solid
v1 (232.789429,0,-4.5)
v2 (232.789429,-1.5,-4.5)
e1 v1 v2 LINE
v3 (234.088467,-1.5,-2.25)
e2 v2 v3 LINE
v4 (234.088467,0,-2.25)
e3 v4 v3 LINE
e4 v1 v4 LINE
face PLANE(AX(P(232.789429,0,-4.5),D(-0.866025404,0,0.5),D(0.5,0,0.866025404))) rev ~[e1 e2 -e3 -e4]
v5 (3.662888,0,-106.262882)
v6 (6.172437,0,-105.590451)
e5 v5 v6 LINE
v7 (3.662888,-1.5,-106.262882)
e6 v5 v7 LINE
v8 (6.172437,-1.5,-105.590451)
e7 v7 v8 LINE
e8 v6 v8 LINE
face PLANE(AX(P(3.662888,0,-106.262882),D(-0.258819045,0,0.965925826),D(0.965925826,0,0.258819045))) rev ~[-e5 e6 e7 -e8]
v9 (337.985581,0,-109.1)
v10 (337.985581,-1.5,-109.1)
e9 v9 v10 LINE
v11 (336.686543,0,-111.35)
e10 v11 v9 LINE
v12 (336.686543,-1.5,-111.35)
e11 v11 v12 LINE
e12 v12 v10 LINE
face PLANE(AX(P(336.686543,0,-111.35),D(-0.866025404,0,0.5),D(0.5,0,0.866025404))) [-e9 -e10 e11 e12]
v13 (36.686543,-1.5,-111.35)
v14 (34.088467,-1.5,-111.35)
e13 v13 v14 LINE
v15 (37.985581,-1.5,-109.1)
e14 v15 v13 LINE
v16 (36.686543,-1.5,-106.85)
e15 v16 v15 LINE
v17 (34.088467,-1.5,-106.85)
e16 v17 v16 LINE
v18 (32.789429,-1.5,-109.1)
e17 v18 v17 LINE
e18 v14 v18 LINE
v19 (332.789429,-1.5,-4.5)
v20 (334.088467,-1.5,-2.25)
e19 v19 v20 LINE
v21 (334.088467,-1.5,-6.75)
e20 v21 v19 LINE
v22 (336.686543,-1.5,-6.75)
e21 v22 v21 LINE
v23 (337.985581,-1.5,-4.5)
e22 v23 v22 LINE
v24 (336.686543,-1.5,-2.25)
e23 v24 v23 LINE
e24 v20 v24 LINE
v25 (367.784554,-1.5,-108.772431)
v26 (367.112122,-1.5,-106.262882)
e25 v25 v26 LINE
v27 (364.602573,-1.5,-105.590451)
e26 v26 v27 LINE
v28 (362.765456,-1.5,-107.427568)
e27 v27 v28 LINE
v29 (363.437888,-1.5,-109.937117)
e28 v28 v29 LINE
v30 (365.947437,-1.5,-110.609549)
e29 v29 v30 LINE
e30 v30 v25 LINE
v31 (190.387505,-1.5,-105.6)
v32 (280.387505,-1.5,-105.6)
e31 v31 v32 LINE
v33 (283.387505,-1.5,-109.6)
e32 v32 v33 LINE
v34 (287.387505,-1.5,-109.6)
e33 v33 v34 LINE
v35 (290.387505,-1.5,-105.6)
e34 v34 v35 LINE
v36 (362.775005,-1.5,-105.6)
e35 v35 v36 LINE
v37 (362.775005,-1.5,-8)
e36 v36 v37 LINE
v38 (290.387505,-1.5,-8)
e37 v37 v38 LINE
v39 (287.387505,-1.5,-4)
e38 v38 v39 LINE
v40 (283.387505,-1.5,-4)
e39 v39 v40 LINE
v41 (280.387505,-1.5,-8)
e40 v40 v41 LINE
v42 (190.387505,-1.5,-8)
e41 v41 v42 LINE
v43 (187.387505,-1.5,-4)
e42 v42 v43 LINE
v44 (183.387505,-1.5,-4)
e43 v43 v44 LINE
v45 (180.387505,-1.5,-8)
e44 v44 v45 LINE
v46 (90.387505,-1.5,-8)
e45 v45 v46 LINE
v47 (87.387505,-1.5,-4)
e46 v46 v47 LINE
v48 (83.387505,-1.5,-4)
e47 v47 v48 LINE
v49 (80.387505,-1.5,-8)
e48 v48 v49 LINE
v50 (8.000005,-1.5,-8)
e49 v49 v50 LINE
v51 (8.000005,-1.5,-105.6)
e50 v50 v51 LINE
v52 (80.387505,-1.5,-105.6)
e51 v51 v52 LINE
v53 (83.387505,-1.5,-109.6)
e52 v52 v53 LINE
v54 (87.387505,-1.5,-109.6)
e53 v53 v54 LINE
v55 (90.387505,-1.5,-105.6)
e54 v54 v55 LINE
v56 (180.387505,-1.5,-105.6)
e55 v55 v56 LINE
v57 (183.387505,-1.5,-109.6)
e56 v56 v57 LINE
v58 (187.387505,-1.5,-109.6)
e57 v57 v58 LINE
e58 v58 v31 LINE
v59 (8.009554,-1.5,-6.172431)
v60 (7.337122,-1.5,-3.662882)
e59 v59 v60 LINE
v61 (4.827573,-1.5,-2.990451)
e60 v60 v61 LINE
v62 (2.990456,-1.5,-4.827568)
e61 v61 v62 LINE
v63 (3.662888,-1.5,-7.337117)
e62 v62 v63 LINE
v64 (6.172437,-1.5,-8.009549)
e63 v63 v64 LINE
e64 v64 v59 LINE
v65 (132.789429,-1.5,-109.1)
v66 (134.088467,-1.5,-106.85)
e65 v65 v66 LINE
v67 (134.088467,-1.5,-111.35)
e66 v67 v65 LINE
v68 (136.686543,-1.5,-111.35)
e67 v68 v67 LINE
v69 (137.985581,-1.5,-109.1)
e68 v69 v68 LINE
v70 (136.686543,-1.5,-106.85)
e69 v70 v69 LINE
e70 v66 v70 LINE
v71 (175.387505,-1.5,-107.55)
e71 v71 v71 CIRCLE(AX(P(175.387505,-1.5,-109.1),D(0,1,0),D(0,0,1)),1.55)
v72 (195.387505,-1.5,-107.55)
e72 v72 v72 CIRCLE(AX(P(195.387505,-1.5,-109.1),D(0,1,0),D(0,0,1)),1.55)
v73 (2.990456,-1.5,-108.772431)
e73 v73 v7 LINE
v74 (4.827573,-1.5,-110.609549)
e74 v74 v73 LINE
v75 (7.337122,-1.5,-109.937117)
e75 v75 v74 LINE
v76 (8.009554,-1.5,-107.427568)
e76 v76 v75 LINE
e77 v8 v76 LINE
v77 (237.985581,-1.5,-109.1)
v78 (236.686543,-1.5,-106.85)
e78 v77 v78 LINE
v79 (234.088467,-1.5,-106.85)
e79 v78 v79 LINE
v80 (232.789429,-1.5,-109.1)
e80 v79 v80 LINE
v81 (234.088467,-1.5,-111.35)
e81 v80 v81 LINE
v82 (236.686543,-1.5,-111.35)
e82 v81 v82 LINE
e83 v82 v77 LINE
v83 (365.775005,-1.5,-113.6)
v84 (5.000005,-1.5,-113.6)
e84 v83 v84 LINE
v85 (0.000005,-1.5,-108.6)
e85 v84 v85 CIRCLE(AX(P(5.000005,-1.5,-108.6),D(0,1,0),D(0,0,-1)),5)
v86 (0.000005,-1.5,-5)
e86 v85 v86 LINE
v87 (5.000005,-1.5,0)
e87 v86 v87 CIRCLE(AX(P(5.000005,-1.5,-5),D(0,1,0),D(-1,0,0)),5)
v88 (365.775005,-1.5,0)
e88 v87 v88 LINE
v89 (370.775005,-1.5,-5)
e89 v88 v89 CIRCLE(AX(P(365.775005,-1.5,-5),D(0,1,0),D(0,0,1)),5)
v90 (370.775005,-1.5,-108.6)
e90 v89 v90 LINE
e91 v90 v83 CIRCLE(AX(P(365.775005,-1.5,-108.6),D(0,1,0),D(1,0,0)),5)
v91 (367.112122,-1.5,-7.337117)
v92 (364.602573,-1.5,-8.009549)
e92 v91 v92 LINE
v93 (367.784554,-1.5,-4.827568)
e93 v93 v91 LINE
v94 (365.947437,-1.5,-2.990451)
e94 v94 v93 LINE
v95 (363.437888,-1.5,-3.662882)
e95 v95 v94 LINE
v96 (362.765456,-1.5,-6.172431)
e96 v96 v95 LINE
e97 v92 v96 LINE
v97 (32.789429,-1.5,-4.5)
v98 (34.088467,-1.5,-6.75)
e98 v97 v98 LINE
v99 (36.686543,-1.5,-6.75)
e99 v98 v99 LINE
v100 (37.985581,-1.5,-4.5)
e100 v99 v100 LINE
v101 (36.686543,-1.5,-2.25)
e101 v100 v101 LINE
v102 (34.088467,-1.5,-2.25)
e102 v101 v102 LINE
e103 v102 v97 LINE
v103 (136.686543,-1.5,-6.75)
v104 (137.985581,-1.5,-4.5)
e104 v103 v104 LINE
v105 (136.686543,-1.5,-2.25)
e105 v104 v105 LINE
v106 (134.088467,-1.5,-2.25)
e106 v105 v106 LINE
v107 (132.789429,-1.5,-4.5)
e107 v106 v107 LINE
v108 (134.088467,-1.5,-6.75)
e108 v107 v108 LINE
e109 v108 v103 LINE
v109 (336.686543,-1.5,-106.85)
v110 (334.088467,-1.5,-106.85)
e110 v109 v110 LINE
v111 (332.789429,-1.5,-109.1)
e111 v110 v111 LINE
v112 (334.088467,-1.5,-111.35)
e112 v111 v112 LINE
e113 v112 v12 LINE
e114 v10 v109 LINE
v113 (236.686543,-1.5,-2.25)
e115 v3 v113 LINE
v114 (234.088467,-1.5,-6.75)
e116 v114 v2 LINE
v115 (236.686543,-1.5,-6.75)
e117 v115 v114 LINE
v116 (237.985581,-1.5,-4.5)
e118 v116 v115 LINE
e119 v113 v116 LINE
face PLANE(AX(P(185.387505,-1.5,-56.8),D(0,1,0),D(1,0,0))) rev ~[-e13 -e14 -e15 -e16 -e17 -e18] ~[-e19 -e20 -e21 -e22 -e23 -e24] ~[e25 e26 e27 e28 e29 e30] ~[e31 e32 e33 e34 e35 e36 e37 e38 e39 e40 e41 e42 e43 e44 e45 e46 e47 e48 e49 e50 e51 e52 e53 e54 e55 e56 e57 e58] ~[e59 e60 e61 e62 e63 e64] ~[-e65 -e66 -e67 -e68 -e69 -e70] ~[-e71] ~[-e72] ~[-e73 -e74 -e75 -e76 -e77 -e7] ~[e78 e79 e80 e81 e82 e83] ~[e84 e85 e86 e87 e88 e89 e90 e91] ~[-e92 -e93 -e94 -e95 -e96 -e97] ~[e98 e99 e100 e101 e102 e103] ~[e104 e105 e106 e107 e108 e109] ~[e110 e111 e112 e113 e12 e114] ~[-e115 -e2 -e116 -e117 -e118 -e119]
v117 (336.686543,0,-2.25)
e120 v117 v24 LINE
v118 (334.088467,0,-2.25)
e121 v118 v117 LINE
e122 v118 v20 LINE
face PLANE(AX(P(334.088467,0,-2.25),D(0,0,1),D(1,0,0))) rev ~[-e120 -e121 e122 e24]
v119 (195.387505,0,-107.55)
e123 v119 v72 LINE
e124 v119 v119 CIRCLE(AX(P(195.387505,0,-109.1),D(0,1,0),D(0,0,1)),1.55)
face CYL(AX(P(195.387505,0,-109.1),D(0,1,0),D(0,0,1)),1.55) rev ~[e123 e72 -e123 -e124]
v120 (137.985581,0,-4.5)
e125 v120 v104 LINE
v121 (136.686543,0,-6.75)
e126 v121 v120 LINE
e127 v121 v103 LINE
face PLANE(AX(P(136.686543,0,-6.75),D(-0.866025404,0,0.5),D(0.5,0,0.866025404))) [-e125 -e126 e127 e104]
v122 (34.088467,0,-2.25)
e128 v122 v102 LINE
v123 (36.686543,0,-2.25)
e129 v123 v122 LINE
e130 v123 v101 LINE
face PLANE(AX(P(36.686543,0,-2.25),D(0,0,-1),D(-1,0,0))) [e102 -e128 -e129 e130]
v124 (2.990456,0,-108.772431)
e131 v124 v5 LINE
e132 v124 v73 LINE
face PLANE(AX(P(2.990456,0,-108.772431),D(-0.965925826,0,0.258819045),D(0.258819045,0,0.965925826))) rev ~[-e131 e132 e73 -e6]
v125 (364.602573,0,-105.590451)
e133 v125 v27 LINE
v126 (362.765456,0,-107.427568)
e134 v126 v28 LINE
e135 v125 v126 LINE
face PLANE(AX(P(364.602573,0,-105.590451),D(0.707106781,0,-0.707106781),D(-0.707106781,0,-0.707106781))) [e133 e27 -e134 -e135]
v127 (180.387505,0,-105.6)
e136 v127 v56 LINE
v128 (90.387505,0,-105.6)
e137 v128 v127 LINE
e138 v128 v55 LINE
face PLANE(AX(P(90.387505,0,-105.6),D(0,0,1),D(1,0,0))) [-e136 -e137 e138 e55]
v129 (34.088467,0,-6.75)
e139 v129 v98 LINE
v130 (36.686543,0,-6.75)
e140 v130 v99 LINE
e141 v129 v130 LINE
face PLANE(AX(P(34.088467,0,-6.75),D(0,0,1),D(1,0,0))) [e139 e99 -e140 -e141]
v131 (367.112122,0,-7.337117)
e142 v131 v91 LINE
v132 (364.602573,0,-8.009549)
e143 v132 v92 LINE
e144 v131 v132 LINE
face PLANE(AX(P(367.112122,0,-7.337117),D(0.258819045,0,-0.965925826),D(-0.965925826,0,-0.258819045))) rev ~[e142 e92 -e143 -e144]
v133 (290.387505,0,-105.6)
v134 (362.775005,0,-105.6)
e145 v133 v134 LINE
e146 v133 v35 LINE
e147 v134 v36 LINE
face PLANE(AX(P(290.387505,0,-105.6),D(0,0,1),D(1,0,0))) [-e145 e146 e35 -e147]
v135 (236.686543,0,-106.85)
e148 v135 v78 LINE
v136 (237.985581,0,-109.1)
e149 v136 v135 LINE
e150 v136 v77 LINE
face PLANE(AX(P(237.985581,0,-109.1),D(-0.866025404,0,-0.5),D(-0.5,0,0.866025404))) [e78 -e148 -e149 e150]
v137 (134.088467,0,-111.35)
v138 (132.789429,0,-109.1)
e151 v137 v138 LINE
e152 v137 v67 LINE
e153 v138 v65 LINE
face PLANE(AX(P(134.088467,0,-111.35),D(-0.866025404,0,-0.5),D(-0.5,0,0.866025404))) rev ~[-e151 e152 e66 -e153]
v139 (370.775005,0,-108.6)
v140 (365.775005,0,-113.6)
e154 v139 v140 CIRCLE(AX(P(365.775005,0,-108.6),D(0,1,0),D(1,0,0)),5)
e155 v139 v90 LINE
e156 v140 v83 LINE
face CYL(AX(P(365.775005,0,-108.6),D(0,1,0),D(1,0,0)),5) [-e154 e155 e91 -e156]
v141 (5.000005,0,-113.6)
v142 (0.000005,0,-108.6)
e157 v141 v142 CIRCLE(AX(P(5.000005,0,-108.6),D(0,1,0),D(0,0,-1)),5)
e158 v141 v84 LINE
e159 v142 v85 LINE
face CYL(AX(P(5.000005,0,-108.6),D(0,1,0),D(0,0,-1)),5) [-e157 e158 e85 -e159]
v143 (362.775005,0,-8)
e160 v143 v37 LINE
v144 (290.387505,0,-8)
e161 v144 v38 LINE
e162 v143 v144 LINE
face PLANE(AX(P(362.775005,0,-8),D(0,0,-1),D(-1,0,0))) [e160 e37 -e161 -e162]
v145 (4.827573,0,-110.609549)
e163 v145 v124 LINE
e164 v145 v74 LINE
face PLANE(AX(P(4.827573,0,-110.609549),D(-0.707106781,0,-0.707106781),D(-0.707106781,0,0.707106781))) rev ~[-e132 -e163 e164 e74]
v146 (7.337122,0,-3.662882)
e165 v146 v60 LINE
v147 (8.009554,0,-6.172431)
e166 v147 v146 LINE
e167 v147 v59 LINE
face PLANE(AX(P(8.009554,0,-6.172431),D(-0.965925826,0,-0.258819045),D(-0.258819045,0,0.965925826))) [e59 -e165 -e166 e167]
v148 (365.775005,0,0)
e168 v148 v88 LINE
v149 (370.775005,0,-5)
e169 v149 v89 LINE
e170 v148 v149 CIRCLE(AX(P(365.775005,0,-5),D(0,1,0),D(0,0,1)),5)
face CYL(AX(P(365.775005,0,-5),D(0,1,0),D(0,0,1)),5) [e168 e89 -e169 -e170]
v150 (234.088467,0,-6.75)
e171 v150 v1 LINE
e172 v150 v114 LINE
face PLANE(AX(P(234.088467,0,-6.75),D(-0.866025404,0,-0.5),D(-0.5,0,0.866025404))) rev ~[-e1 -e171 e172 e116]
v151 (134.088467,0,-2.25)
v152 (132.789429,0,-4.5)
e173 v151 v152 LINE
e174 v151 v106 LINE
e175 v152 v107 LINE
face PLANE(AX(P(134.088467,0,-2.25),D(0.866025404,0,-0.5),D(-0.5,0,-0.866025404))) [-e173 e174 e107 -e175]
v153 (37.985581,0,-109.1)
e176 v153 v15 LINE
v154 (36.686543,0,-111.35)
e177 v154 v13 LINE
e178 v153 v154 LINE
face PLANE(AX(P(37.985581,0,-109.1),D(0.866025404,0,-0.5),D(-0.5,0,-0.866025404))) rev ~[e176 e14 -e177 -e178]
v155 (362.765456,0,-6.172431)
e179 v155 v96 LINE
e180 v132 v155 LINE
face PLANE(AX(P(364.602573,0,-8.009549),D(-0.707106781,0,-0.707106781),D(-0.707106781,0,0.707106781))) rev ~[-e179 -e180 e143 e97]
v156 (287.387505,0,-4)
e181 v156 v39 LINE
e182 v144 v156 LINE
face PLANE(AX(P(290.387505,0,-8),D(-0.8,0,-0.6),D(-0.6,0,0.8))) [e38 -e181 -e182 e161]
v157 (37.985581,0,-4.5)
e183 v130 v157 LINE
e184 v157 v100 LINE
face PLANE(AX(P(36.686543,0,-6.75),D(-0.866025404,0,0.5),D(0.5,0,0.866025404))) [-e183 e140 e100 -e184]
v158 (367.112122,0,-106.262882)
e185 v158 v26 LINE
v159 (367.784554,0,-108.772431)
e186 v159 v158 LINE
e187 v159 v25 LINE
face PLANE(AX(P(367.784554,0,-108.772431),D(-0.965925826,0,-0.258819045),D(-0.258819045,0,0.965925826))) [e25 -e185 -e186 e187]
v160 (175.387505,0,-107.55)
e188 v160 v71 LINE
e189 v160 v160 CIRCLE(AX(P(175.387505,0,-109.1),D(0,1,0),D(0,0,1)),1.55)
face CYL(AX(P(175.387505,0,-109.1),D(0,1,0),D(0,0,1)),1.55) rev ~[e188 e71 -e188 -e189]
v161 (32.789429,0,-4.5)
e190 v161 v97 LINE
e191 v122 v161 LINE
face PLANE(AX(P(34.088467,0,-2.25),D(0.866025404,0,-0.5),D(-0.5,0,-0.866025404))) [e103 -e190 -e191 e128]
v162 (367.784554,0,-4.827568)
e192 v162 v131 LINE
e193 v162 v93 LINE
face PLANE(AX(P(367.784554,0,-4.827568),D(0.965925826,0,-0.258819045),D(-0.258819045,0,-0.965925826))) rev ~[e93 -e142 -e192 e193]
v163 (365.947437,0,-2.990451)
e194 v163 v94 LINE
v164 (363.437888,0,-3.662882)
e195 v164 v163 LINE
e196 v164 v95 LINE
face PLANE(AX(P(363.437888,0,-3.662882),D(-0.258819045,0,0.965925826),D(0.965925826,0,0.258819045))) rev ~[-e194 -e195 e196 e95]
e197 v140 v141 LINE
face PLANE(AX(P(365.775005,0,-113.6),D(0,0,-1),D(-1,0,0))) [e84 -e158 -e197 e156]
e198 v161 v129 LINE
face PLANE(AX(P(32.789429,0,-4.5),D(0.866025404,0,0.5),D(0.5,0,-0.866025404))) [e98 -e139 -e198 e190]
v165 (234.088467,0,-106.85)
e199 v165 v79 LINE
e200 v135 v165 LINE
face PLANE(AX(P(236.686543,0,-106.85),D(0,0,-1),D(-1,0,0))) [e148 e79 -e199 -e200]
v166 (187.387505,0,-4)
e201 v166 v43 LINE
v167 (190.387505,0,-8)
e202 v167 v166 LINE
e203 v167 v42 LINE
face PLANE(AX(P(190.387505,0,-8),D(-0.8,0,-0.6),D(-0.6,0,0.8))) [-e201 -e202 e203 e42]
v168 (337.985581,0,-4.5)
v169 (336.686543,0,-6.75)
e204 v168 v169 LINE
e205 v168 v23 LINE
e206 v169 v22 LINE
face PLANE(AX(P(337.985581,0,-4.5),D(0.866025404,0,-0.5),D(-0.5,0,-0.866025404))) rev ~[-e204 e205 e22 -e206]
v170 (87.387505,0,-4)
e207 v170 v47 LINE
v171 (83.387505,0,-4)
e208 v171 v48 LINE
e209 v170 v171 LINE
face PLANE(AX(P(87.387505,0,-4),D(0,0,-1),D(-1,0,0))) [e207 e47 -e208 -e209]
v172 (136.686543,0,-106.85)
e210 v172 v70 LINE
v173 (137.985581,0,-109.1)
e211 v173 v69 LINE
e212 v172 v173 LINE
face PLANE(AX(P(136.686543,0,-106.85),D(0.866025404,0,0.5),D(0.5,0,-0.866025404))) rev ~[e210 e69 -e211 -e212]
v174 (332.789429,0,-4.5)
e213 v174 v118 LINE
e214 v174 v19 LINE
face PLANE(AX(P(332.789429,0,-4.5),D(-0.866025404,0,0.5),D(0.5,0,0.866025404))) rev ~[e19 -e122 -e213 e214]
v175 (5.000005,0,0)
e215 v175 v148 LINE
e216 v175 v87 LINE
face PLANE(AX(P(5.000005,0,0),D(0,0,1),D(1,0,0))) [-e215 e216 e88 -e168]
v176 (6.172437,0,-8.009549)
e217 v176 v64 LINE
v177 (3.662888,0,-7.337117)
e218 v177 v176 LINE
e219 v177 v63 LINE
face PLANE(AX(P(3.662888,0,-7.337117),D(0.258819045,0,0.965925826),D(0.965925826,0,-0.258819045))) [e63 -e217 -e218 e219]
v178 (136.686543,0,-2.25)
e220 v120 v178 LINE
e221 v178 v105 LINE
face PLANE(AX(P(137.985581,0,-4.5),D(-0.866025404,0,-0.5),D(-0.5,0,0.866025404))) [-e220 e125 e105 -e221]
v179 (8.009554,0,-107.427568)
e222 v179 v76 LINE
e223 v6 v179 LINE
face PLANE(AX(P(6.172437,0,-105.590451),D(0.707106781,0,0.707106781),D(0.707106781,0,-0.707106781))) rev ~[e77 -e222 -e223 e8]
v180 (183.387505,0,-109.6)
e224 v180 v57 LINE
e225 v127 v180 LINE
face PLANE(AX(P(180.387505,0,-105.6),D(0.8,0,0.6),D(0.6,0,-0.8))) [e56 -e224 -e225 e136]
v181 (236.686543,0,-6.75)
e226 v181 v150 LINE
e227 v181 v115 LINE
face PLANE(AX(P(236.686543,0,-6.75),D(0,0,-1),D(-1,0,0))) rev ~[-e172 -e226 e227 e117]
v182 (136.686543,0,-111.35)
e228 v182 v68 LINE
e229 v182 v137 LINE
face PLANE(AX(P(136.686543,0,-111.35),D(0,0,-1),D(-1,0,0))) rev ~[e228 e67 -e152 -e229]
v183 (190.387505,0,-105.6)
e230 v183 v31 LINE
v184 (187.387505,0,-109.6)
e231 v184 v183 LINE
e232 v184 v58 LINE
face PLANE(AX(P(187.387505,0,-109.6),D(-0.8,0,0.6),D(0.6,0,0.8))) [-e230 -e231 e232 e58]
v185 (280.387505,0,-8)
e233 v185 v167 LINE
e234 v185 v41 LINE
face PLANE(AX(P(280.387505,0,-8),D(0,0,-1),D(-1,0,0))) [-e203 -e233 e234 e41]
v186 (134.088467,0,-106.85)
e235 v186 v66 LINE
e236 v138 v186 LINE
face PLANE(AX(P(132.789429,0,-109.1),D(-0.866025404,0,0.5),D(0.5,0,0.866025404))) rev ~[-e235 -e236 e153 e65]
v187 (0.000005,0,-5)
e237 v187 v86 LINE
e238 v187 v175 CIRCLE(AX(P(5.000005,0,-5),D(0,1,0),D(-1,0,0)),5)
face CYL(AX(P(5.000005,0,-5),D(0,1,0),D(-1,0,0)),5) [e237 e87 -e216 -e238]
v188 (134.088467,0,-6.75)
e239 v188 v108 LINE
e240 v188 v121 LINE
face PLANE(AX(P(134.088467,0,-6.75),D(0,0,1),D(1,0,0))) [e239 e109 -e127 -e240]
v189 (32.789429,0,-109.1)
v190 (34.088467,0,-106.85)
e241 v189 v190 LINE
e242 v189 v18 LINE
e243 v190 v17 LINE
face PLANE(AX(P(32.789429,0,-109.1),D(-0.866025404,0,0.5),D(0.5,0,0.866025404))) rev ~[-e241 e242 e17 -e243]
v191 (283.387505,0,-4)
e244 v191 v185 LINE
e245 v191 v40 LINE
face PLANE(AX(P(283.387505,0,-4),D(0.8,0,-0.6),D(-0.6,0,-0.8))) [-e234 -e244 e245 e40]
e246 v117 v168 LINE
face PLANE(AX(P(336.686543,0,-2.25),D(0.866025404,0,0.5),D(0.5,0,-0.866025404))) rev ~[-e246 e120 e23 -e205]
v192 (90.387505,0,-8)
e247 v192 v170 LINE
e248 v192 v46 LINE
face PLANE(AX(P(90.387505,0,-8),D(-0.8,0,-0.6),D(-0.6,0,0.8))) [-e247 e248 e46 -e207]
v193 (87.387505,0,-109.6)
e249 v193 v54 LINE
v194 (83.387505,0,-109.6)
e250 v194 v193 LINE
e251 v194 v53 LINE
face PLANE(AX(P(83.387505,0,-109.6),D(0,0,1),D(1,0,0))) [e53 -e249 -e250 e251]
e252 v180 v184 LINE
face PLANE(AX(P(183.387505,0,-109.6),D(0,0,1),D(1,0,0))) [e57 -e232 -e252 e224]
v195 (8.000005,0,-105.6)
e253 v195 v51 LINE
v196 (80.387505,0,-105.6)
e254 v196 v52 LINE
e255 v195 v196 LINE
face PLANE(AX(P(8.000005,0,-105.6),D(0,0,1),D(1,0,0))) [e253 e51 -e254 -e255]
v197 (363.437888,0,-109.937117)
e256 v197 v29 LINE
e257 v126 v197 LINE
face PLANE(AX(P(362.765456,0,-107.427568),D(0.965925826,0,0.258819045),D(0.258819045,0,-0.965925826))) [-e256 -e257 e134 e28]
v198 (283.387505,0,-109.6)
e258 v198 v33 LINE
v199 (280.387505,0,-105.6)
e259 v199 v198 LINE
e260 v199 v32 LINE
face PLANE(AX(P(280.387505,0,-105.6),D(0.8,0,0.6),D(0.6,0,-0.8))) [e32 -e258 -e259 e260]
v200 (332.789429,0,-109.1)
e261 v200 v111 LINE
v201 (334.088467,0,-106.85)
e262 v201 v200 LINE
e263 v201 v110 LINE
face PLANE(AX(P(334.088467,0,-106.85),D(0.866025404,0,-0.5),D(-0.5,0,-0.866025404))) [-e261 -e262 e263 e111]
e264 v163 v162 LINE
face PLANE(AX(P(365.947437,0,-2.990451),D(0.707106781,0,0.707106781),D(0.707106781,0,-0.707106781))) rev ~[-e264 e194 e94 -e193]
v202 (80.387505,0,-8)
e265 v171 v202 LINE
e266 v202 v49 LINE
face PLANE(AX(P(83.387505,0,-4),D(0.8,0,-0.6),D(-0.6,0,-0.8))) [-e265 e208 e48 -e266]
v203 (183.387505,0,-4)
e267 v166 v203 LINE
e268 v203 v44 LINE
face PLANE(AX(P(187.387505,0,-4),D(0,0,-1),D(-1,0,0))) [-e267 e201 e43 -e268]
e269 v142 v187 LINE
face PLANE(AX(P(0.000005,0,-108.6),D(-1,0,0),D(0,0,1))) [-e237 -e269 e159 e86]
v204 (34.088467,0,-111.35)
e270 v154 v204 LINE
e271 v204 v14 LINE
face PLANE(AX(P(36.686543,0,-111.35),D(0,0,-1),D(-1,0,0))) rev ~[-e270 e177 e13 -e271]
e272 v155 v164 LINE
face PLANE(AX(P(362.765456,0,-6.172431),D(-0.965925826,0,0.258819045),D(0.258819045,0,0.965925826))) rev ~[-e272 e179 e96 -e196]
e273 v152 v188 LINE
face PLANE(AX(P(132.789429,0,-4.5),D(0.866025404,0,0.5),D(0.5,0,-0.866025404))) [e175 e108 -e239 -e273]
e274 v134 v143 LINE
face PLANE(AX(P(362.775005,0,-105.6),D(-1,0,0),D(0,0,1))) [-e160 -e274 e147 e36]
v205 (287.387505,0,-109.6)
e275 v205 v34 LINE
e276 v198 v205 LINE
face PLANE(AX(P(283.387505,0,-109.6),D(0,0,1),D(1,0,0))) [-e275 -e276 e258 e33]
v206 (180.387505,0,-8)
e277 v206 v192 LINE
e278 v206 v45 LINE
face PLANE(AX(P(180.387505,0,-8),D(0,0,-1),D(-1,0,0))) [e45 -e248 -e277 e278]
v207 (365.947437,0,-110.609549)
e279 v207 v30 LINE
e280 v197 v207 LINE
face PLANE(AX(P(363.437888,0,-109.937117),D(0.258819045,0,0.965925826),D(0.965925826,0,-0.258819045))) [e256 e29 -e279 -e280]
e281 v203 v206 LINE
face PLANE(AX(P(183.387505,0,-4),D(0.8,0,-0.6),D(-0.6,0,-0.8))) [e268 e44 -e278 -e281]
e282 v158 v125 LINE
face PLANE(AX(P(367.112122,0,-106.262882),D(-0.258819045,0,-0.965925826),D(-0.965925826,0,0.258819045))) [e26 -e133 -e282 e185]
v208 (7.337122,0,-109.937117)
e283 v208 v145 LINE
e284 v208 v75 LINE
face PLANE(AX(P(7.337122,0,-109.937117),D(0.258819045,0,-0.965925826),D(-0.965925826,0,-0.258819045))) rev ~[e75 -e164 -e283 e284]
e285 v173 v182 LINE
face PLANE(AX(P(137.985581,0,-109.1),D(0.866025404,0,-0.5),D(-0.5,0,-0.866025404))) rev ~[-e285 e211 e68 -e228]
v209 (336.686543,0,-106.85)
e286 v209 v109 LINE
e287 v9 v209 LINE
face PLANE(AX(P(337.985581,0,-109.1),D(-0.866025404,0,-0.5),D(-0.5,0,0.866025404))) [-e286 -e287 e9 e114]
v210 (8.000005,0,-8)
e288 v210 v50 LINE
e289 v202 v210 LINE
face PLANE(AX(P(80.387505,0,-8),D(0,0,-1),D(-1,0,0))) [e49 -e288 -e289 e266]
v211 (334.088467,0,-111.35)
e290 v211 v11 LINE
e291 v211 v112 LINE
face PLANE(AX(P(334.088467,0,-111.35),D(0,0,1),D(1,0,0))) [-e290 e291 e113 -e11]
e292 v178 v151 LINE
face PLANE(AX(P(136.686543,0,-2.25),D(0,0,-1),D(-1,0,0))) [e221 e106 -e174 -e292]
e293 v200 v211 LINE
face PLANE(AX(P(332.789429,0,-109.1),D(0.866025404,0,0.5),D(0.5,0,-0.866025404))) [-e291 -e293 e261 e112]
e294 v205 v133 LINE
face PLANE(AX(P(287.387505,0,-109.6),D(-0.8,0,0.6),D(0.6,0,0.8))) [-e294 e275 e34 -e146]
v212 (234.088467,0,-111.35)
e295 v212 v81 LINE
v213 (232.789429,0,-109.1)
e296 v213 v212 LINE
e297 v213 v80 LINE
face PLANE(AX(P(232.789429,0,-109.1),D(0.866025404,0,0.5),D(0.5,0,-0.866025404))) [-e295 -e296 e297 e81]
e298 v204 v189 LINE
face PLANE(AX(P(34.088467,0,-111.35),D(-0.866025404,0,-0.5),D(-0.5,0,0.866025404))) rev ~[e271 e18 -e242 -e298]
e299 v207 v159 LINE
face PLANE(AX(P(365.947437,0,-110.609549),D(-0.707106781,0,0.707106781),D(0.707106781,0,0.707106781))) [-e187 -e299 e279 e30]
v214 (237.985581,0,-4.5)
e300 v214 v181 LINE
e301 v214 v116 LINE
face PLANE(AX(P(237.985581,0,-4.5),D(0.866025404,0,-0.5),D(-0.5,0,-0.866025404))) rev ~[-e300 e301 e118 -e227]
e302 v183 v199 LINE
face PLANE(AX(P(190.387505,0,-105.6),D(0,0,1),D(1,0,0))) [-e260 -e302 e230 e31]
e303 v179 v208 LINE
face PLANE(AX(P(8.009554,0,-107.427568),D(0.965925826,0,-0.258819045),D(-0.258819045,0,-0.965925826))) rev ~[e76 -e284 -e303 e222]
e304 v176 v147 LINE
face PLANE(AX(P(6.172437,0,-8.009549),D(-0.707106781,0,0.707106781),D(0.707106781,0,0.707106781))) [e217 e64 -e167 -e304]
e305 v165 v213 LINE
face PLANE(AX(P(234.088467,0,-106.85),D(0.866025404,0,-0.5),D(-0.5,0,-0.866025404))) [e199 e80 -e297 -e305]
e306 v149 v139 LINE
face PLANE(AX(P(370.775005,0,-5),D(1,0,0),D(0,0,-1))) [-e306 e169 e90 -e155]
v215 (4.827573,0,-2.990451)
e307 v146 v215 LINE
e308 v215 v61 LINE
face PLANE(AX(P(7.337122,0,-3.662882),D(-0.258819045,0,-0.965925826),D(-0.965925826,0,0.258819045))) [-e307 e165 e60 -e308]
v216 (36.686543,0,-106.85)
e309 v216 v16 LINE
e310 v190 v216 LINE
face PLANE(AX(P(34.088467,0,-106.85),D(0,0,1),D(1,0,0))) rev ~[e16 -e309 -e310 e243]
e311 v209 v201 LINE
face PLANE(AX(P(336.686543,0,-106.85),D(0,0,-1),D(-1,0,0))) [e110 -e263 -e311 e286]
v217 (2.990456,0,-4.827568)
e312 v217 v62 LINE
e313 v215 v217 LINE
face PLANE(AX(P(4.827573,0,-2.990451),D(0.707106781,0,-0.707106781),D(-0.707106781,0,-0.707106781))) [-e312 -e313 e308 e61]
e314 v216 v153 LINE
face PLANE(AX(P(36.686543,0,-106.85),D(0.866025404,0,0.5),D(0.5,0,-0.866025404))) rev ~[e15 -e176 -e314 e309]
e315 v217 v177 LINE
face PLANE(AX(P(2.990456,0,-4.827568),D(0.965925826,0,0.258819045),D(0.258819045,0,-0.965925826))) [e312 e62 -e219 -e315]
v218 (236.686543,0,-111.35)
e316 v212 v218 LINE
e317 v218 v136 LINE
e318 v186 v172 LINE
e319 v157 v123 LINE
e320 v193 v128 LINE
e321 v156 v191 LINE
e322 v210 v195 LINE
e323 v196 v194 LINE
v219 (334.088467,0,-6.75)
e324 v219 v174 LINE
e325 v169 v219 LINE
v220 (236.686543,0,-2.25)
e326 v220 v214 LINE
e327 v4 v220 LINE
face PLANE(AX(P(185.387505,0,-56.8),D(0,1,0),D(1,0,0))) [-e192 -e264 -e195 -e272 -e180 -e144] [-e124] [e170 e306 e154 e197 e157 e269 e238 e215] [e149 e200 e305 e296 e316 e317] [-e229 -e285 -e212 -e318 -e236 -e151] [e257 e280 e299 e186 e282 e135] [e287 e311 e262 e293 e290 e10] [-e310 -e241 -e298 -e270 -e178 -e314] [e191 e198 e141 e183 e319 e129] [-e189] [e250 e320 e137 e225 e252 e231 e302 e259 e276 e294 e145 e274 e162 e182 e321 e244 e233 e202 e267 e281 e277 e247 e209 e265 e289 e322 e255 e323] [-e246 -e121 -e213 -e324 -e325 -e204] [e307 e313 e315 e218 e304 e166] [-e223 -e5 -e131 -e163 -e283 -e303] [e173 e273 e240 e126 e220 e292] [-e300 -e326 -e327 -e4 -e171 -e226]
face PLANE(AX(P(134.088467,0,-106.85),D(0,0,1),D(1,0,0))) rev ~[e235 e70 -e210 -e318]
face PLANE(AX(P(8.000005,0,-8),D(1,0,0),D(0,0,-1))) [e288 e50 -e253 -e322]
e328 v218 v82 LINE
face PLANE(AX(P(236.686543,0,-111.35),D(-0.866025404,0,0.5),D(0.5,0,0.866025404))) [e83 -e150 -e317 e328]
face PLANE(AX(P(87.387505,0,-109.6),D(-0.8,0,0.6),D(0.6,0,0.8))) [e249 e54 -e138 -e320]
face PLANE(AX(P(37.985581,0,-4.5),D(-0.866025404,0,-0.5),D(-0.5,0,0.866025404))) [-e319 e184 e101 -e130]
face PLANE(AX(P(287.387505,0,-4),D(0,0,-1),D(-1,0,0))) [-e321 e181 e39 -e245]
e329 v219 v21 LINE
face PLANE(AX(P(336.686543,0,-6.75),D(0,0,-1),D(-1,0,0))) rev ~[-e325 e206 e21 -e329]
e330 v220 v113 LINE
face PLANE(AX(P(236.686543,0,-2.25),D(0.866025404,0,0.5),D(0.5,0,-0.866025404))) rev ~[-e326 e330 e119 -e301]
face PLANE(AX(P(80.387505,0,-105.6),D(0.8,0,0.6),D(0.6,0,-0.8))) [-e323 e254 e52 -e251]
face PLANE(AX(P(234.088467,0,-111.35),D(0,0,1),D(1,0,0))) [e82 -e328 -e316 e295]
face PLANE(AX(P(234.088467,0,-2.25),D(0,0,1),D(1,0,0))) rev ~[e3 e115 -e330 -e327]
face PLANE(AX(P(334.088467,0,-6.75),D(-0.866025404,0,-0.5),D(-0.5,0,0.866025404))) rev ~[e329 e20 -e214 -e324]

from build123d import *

# Parameters (mm, degrees)
SKETCH1_R           = 1.55
BOSS_EXTRUDE1_DEPTH = 1.5


with BuildPart() as part:
    # Sketch1 → Boss-Extrude1 (new body)
    with BuildSketch(Plane(origin=(0, 0, 0), x_dir=(1, 0, 0), z_dir=(0, 1, 0))):
        with BuildLine():
            Line((4.973e-06, 108.599999805), (4.973e-06, 4.999999805))
            ThreePointArc((4.973e-06, 4.999999805), (1.464471067, 1.464465899), (5.000004973, -1.95e-07))
            Line((5.000004973, -1.95e-07), (365.775004973, -1.95e-07))
            ThreePointArc((365.775004973, -1.95e-07), (369.310538879, 1.464465899), (370.775004973, 4.999999805))
            Line((370.775004973, 4.999999805), (370.775004973, 108.599999805))
            ThreePointArc((370.775004973, 108.599999805), (369.310538879, 112.135533711), (365.775004973, 113.599999805))
            Line((365.775004973, 113.599999805), (5.000004973, 113.599999805))
            ThreePointArc((5.000004973, 113.599999805), (1.464471067, 112.135533711), (4.973e-06, 108.599999805))
        make_face()
        with Locations(Location((175.387504973, 109.099999805, 0), (0, 0, 270))):
            Circle(SKETCH1_R, mode=Mode.SUBTRACT)
        with Locations(Location((195.387504973, 109.099999805, 0), (0, 0, 270))):
            Circle(SKETCH1_R, mode=Mode.SUBTRACT)
        Polygon((8.000004973, 7.999999805), (8.000004973, 105.599999805), (80.387504973, 105.599999805), (83.387504973, 109.599999805), (87.387504973, 109.599999805), (90.387504973, 105.599999805), (180.387504973, 105.599999805), (183.387504973, 109.599999805), (187.387504973, 109.599999805), (190.387504973, 105.599999805), (280.387504973, 105.599999805), (283.387504973, 109.599999805), (287.387504973, 109.599999805), (290.387504973, 105.599999805), (362.775004973, 105.599999805), (362.775004973, 7.999999805), (290.387504973, 7.999999805), (287.387504973, 3.999999805), (283.387504973, 3.999999805), (280.387504973, 7.999999805), (190.387504973, 7.999999805), (187.387504973, 3.999999805), (183.387504973, 3.999999805), (180.387504973, 7.999999805), (90.387504973, 7.999999805), (87.387504973, 3.999999805), (83.387504973, 3.999999805), (80.387504973, 7.999999805), align=None, mode=Mode.SUBTRACT)
        Polygon((234.088466868, 111.349999805), (236.686543079, 111.349999805), (237.985581185, 109.099999805), (236.686543079, 106.849999805), (234.088466868, 106.849999805), (232.789428762, 109.099999805), align=None, mode=Mode.SUBTRACT)
        Polygon((334.088466868, 111.349999805), (336.686543079, 111.349999805), (337.985581185, 109.099999805), (336.686543079, 106.849999805), (334.088466868, 106.849999805), (332.789428762, 109.099999805), align=None, mode=Mode.SUBTRACT)
        Polygon((365.947436577, 110.609548716), (367.784553885, 108.772431409), (367.11212228, 106.262882498), (364.602573369, 105.590450894), (362.765456062, 107.427568201), (363.437887666, 109.937117112), align=None, mode=Mode.SUBTRACT)
        Polygon((136.686543079, 111.349999805), (134.088466868, 111.349999805), (132.789428762, 109.099999805), (134.088466868, 106.849999805), (136.686543079, 106.849999805), (137.985581185, 109.099999805), align=None, mode=Mode.SUBTRACT)
        Polygon((36.686543079, 111.349999805), (34.088466868, 111.349999805), (32.789428762, 109.099999805), (34.088466868, 106.849999805), (36.686543079, 106.849999805), (37.985581185, 109.099999805), align=None, mode=Mode.SUBTRACT)
        Polygon((4.827573369, 110.609548716), (2.990456062, 108.772431409), (3.662887666, 106.262882498), (6.172436577, 105.590450894), (8.009553885, 107.427568201), (7.33712228, 109.937117112), align=None, mode=Mode.SUBTRACT)
        Polygon((234.088466868, 2.249999805), (236.686543079, 2.249999805), (237.985581185, 4.499999805), (236.686543079, 6.749999805), (234.088466868, 6.749999805), (232.789428762, 4.499999805), align=None, mode=Mode.SUBTRACT)
        Polygon((334.088466868, 2.249999805), (336.686543079, 2.249999805), (337.985581185, 4.499999805), (336.686543079, 6.749999805), (334.088466868, 6.749999805), (332.789428762, 4.499999805), align=None, mode=Mode.SUBTRACT)
        Polygon((365.947436577, 2.990450894), (367.784553885, 4.827568201), (367.11212228, 7.337117112), (364.602573369, 8.009548716), (362.765456062, 6.172431409), (363.437887666, 3.662882498), align=None, mode=Mode.SUBTRACT)
        Polygon((136.686543079, 2.249999805), (134.088466868, 2.249999805), (132.789428762, 4.499999805), (134.088466868, 6.749999805), (136.686543079, 6.749999805), (137.985581185, 4.499999805), align=None, mode=Mode.SUBTRACT)
        Polygon((36.686543079, 2.249999805), (34.088466868, 2.249999805), (32.789428762, 4.499999805), (34.088466868, 6.749999805), (36.686543079, 6.749999805), (37.985581185, 4.499999805), align=None, mode=Mode.SUBTRACT)
        Polygon((4.827573369, 2.990450894), (2.990456062, 4.827568201), (3.662887666, 7.337117112), (6.172436577, 8.009548716), (8.009553885, 6.172431409), (7.33712228, 3.662882498), align=None, mode=Mode.SUBTRACT)
    extrude(amount=-BOSS_EXTRUDE1_DEPTH)


solid = part.part
